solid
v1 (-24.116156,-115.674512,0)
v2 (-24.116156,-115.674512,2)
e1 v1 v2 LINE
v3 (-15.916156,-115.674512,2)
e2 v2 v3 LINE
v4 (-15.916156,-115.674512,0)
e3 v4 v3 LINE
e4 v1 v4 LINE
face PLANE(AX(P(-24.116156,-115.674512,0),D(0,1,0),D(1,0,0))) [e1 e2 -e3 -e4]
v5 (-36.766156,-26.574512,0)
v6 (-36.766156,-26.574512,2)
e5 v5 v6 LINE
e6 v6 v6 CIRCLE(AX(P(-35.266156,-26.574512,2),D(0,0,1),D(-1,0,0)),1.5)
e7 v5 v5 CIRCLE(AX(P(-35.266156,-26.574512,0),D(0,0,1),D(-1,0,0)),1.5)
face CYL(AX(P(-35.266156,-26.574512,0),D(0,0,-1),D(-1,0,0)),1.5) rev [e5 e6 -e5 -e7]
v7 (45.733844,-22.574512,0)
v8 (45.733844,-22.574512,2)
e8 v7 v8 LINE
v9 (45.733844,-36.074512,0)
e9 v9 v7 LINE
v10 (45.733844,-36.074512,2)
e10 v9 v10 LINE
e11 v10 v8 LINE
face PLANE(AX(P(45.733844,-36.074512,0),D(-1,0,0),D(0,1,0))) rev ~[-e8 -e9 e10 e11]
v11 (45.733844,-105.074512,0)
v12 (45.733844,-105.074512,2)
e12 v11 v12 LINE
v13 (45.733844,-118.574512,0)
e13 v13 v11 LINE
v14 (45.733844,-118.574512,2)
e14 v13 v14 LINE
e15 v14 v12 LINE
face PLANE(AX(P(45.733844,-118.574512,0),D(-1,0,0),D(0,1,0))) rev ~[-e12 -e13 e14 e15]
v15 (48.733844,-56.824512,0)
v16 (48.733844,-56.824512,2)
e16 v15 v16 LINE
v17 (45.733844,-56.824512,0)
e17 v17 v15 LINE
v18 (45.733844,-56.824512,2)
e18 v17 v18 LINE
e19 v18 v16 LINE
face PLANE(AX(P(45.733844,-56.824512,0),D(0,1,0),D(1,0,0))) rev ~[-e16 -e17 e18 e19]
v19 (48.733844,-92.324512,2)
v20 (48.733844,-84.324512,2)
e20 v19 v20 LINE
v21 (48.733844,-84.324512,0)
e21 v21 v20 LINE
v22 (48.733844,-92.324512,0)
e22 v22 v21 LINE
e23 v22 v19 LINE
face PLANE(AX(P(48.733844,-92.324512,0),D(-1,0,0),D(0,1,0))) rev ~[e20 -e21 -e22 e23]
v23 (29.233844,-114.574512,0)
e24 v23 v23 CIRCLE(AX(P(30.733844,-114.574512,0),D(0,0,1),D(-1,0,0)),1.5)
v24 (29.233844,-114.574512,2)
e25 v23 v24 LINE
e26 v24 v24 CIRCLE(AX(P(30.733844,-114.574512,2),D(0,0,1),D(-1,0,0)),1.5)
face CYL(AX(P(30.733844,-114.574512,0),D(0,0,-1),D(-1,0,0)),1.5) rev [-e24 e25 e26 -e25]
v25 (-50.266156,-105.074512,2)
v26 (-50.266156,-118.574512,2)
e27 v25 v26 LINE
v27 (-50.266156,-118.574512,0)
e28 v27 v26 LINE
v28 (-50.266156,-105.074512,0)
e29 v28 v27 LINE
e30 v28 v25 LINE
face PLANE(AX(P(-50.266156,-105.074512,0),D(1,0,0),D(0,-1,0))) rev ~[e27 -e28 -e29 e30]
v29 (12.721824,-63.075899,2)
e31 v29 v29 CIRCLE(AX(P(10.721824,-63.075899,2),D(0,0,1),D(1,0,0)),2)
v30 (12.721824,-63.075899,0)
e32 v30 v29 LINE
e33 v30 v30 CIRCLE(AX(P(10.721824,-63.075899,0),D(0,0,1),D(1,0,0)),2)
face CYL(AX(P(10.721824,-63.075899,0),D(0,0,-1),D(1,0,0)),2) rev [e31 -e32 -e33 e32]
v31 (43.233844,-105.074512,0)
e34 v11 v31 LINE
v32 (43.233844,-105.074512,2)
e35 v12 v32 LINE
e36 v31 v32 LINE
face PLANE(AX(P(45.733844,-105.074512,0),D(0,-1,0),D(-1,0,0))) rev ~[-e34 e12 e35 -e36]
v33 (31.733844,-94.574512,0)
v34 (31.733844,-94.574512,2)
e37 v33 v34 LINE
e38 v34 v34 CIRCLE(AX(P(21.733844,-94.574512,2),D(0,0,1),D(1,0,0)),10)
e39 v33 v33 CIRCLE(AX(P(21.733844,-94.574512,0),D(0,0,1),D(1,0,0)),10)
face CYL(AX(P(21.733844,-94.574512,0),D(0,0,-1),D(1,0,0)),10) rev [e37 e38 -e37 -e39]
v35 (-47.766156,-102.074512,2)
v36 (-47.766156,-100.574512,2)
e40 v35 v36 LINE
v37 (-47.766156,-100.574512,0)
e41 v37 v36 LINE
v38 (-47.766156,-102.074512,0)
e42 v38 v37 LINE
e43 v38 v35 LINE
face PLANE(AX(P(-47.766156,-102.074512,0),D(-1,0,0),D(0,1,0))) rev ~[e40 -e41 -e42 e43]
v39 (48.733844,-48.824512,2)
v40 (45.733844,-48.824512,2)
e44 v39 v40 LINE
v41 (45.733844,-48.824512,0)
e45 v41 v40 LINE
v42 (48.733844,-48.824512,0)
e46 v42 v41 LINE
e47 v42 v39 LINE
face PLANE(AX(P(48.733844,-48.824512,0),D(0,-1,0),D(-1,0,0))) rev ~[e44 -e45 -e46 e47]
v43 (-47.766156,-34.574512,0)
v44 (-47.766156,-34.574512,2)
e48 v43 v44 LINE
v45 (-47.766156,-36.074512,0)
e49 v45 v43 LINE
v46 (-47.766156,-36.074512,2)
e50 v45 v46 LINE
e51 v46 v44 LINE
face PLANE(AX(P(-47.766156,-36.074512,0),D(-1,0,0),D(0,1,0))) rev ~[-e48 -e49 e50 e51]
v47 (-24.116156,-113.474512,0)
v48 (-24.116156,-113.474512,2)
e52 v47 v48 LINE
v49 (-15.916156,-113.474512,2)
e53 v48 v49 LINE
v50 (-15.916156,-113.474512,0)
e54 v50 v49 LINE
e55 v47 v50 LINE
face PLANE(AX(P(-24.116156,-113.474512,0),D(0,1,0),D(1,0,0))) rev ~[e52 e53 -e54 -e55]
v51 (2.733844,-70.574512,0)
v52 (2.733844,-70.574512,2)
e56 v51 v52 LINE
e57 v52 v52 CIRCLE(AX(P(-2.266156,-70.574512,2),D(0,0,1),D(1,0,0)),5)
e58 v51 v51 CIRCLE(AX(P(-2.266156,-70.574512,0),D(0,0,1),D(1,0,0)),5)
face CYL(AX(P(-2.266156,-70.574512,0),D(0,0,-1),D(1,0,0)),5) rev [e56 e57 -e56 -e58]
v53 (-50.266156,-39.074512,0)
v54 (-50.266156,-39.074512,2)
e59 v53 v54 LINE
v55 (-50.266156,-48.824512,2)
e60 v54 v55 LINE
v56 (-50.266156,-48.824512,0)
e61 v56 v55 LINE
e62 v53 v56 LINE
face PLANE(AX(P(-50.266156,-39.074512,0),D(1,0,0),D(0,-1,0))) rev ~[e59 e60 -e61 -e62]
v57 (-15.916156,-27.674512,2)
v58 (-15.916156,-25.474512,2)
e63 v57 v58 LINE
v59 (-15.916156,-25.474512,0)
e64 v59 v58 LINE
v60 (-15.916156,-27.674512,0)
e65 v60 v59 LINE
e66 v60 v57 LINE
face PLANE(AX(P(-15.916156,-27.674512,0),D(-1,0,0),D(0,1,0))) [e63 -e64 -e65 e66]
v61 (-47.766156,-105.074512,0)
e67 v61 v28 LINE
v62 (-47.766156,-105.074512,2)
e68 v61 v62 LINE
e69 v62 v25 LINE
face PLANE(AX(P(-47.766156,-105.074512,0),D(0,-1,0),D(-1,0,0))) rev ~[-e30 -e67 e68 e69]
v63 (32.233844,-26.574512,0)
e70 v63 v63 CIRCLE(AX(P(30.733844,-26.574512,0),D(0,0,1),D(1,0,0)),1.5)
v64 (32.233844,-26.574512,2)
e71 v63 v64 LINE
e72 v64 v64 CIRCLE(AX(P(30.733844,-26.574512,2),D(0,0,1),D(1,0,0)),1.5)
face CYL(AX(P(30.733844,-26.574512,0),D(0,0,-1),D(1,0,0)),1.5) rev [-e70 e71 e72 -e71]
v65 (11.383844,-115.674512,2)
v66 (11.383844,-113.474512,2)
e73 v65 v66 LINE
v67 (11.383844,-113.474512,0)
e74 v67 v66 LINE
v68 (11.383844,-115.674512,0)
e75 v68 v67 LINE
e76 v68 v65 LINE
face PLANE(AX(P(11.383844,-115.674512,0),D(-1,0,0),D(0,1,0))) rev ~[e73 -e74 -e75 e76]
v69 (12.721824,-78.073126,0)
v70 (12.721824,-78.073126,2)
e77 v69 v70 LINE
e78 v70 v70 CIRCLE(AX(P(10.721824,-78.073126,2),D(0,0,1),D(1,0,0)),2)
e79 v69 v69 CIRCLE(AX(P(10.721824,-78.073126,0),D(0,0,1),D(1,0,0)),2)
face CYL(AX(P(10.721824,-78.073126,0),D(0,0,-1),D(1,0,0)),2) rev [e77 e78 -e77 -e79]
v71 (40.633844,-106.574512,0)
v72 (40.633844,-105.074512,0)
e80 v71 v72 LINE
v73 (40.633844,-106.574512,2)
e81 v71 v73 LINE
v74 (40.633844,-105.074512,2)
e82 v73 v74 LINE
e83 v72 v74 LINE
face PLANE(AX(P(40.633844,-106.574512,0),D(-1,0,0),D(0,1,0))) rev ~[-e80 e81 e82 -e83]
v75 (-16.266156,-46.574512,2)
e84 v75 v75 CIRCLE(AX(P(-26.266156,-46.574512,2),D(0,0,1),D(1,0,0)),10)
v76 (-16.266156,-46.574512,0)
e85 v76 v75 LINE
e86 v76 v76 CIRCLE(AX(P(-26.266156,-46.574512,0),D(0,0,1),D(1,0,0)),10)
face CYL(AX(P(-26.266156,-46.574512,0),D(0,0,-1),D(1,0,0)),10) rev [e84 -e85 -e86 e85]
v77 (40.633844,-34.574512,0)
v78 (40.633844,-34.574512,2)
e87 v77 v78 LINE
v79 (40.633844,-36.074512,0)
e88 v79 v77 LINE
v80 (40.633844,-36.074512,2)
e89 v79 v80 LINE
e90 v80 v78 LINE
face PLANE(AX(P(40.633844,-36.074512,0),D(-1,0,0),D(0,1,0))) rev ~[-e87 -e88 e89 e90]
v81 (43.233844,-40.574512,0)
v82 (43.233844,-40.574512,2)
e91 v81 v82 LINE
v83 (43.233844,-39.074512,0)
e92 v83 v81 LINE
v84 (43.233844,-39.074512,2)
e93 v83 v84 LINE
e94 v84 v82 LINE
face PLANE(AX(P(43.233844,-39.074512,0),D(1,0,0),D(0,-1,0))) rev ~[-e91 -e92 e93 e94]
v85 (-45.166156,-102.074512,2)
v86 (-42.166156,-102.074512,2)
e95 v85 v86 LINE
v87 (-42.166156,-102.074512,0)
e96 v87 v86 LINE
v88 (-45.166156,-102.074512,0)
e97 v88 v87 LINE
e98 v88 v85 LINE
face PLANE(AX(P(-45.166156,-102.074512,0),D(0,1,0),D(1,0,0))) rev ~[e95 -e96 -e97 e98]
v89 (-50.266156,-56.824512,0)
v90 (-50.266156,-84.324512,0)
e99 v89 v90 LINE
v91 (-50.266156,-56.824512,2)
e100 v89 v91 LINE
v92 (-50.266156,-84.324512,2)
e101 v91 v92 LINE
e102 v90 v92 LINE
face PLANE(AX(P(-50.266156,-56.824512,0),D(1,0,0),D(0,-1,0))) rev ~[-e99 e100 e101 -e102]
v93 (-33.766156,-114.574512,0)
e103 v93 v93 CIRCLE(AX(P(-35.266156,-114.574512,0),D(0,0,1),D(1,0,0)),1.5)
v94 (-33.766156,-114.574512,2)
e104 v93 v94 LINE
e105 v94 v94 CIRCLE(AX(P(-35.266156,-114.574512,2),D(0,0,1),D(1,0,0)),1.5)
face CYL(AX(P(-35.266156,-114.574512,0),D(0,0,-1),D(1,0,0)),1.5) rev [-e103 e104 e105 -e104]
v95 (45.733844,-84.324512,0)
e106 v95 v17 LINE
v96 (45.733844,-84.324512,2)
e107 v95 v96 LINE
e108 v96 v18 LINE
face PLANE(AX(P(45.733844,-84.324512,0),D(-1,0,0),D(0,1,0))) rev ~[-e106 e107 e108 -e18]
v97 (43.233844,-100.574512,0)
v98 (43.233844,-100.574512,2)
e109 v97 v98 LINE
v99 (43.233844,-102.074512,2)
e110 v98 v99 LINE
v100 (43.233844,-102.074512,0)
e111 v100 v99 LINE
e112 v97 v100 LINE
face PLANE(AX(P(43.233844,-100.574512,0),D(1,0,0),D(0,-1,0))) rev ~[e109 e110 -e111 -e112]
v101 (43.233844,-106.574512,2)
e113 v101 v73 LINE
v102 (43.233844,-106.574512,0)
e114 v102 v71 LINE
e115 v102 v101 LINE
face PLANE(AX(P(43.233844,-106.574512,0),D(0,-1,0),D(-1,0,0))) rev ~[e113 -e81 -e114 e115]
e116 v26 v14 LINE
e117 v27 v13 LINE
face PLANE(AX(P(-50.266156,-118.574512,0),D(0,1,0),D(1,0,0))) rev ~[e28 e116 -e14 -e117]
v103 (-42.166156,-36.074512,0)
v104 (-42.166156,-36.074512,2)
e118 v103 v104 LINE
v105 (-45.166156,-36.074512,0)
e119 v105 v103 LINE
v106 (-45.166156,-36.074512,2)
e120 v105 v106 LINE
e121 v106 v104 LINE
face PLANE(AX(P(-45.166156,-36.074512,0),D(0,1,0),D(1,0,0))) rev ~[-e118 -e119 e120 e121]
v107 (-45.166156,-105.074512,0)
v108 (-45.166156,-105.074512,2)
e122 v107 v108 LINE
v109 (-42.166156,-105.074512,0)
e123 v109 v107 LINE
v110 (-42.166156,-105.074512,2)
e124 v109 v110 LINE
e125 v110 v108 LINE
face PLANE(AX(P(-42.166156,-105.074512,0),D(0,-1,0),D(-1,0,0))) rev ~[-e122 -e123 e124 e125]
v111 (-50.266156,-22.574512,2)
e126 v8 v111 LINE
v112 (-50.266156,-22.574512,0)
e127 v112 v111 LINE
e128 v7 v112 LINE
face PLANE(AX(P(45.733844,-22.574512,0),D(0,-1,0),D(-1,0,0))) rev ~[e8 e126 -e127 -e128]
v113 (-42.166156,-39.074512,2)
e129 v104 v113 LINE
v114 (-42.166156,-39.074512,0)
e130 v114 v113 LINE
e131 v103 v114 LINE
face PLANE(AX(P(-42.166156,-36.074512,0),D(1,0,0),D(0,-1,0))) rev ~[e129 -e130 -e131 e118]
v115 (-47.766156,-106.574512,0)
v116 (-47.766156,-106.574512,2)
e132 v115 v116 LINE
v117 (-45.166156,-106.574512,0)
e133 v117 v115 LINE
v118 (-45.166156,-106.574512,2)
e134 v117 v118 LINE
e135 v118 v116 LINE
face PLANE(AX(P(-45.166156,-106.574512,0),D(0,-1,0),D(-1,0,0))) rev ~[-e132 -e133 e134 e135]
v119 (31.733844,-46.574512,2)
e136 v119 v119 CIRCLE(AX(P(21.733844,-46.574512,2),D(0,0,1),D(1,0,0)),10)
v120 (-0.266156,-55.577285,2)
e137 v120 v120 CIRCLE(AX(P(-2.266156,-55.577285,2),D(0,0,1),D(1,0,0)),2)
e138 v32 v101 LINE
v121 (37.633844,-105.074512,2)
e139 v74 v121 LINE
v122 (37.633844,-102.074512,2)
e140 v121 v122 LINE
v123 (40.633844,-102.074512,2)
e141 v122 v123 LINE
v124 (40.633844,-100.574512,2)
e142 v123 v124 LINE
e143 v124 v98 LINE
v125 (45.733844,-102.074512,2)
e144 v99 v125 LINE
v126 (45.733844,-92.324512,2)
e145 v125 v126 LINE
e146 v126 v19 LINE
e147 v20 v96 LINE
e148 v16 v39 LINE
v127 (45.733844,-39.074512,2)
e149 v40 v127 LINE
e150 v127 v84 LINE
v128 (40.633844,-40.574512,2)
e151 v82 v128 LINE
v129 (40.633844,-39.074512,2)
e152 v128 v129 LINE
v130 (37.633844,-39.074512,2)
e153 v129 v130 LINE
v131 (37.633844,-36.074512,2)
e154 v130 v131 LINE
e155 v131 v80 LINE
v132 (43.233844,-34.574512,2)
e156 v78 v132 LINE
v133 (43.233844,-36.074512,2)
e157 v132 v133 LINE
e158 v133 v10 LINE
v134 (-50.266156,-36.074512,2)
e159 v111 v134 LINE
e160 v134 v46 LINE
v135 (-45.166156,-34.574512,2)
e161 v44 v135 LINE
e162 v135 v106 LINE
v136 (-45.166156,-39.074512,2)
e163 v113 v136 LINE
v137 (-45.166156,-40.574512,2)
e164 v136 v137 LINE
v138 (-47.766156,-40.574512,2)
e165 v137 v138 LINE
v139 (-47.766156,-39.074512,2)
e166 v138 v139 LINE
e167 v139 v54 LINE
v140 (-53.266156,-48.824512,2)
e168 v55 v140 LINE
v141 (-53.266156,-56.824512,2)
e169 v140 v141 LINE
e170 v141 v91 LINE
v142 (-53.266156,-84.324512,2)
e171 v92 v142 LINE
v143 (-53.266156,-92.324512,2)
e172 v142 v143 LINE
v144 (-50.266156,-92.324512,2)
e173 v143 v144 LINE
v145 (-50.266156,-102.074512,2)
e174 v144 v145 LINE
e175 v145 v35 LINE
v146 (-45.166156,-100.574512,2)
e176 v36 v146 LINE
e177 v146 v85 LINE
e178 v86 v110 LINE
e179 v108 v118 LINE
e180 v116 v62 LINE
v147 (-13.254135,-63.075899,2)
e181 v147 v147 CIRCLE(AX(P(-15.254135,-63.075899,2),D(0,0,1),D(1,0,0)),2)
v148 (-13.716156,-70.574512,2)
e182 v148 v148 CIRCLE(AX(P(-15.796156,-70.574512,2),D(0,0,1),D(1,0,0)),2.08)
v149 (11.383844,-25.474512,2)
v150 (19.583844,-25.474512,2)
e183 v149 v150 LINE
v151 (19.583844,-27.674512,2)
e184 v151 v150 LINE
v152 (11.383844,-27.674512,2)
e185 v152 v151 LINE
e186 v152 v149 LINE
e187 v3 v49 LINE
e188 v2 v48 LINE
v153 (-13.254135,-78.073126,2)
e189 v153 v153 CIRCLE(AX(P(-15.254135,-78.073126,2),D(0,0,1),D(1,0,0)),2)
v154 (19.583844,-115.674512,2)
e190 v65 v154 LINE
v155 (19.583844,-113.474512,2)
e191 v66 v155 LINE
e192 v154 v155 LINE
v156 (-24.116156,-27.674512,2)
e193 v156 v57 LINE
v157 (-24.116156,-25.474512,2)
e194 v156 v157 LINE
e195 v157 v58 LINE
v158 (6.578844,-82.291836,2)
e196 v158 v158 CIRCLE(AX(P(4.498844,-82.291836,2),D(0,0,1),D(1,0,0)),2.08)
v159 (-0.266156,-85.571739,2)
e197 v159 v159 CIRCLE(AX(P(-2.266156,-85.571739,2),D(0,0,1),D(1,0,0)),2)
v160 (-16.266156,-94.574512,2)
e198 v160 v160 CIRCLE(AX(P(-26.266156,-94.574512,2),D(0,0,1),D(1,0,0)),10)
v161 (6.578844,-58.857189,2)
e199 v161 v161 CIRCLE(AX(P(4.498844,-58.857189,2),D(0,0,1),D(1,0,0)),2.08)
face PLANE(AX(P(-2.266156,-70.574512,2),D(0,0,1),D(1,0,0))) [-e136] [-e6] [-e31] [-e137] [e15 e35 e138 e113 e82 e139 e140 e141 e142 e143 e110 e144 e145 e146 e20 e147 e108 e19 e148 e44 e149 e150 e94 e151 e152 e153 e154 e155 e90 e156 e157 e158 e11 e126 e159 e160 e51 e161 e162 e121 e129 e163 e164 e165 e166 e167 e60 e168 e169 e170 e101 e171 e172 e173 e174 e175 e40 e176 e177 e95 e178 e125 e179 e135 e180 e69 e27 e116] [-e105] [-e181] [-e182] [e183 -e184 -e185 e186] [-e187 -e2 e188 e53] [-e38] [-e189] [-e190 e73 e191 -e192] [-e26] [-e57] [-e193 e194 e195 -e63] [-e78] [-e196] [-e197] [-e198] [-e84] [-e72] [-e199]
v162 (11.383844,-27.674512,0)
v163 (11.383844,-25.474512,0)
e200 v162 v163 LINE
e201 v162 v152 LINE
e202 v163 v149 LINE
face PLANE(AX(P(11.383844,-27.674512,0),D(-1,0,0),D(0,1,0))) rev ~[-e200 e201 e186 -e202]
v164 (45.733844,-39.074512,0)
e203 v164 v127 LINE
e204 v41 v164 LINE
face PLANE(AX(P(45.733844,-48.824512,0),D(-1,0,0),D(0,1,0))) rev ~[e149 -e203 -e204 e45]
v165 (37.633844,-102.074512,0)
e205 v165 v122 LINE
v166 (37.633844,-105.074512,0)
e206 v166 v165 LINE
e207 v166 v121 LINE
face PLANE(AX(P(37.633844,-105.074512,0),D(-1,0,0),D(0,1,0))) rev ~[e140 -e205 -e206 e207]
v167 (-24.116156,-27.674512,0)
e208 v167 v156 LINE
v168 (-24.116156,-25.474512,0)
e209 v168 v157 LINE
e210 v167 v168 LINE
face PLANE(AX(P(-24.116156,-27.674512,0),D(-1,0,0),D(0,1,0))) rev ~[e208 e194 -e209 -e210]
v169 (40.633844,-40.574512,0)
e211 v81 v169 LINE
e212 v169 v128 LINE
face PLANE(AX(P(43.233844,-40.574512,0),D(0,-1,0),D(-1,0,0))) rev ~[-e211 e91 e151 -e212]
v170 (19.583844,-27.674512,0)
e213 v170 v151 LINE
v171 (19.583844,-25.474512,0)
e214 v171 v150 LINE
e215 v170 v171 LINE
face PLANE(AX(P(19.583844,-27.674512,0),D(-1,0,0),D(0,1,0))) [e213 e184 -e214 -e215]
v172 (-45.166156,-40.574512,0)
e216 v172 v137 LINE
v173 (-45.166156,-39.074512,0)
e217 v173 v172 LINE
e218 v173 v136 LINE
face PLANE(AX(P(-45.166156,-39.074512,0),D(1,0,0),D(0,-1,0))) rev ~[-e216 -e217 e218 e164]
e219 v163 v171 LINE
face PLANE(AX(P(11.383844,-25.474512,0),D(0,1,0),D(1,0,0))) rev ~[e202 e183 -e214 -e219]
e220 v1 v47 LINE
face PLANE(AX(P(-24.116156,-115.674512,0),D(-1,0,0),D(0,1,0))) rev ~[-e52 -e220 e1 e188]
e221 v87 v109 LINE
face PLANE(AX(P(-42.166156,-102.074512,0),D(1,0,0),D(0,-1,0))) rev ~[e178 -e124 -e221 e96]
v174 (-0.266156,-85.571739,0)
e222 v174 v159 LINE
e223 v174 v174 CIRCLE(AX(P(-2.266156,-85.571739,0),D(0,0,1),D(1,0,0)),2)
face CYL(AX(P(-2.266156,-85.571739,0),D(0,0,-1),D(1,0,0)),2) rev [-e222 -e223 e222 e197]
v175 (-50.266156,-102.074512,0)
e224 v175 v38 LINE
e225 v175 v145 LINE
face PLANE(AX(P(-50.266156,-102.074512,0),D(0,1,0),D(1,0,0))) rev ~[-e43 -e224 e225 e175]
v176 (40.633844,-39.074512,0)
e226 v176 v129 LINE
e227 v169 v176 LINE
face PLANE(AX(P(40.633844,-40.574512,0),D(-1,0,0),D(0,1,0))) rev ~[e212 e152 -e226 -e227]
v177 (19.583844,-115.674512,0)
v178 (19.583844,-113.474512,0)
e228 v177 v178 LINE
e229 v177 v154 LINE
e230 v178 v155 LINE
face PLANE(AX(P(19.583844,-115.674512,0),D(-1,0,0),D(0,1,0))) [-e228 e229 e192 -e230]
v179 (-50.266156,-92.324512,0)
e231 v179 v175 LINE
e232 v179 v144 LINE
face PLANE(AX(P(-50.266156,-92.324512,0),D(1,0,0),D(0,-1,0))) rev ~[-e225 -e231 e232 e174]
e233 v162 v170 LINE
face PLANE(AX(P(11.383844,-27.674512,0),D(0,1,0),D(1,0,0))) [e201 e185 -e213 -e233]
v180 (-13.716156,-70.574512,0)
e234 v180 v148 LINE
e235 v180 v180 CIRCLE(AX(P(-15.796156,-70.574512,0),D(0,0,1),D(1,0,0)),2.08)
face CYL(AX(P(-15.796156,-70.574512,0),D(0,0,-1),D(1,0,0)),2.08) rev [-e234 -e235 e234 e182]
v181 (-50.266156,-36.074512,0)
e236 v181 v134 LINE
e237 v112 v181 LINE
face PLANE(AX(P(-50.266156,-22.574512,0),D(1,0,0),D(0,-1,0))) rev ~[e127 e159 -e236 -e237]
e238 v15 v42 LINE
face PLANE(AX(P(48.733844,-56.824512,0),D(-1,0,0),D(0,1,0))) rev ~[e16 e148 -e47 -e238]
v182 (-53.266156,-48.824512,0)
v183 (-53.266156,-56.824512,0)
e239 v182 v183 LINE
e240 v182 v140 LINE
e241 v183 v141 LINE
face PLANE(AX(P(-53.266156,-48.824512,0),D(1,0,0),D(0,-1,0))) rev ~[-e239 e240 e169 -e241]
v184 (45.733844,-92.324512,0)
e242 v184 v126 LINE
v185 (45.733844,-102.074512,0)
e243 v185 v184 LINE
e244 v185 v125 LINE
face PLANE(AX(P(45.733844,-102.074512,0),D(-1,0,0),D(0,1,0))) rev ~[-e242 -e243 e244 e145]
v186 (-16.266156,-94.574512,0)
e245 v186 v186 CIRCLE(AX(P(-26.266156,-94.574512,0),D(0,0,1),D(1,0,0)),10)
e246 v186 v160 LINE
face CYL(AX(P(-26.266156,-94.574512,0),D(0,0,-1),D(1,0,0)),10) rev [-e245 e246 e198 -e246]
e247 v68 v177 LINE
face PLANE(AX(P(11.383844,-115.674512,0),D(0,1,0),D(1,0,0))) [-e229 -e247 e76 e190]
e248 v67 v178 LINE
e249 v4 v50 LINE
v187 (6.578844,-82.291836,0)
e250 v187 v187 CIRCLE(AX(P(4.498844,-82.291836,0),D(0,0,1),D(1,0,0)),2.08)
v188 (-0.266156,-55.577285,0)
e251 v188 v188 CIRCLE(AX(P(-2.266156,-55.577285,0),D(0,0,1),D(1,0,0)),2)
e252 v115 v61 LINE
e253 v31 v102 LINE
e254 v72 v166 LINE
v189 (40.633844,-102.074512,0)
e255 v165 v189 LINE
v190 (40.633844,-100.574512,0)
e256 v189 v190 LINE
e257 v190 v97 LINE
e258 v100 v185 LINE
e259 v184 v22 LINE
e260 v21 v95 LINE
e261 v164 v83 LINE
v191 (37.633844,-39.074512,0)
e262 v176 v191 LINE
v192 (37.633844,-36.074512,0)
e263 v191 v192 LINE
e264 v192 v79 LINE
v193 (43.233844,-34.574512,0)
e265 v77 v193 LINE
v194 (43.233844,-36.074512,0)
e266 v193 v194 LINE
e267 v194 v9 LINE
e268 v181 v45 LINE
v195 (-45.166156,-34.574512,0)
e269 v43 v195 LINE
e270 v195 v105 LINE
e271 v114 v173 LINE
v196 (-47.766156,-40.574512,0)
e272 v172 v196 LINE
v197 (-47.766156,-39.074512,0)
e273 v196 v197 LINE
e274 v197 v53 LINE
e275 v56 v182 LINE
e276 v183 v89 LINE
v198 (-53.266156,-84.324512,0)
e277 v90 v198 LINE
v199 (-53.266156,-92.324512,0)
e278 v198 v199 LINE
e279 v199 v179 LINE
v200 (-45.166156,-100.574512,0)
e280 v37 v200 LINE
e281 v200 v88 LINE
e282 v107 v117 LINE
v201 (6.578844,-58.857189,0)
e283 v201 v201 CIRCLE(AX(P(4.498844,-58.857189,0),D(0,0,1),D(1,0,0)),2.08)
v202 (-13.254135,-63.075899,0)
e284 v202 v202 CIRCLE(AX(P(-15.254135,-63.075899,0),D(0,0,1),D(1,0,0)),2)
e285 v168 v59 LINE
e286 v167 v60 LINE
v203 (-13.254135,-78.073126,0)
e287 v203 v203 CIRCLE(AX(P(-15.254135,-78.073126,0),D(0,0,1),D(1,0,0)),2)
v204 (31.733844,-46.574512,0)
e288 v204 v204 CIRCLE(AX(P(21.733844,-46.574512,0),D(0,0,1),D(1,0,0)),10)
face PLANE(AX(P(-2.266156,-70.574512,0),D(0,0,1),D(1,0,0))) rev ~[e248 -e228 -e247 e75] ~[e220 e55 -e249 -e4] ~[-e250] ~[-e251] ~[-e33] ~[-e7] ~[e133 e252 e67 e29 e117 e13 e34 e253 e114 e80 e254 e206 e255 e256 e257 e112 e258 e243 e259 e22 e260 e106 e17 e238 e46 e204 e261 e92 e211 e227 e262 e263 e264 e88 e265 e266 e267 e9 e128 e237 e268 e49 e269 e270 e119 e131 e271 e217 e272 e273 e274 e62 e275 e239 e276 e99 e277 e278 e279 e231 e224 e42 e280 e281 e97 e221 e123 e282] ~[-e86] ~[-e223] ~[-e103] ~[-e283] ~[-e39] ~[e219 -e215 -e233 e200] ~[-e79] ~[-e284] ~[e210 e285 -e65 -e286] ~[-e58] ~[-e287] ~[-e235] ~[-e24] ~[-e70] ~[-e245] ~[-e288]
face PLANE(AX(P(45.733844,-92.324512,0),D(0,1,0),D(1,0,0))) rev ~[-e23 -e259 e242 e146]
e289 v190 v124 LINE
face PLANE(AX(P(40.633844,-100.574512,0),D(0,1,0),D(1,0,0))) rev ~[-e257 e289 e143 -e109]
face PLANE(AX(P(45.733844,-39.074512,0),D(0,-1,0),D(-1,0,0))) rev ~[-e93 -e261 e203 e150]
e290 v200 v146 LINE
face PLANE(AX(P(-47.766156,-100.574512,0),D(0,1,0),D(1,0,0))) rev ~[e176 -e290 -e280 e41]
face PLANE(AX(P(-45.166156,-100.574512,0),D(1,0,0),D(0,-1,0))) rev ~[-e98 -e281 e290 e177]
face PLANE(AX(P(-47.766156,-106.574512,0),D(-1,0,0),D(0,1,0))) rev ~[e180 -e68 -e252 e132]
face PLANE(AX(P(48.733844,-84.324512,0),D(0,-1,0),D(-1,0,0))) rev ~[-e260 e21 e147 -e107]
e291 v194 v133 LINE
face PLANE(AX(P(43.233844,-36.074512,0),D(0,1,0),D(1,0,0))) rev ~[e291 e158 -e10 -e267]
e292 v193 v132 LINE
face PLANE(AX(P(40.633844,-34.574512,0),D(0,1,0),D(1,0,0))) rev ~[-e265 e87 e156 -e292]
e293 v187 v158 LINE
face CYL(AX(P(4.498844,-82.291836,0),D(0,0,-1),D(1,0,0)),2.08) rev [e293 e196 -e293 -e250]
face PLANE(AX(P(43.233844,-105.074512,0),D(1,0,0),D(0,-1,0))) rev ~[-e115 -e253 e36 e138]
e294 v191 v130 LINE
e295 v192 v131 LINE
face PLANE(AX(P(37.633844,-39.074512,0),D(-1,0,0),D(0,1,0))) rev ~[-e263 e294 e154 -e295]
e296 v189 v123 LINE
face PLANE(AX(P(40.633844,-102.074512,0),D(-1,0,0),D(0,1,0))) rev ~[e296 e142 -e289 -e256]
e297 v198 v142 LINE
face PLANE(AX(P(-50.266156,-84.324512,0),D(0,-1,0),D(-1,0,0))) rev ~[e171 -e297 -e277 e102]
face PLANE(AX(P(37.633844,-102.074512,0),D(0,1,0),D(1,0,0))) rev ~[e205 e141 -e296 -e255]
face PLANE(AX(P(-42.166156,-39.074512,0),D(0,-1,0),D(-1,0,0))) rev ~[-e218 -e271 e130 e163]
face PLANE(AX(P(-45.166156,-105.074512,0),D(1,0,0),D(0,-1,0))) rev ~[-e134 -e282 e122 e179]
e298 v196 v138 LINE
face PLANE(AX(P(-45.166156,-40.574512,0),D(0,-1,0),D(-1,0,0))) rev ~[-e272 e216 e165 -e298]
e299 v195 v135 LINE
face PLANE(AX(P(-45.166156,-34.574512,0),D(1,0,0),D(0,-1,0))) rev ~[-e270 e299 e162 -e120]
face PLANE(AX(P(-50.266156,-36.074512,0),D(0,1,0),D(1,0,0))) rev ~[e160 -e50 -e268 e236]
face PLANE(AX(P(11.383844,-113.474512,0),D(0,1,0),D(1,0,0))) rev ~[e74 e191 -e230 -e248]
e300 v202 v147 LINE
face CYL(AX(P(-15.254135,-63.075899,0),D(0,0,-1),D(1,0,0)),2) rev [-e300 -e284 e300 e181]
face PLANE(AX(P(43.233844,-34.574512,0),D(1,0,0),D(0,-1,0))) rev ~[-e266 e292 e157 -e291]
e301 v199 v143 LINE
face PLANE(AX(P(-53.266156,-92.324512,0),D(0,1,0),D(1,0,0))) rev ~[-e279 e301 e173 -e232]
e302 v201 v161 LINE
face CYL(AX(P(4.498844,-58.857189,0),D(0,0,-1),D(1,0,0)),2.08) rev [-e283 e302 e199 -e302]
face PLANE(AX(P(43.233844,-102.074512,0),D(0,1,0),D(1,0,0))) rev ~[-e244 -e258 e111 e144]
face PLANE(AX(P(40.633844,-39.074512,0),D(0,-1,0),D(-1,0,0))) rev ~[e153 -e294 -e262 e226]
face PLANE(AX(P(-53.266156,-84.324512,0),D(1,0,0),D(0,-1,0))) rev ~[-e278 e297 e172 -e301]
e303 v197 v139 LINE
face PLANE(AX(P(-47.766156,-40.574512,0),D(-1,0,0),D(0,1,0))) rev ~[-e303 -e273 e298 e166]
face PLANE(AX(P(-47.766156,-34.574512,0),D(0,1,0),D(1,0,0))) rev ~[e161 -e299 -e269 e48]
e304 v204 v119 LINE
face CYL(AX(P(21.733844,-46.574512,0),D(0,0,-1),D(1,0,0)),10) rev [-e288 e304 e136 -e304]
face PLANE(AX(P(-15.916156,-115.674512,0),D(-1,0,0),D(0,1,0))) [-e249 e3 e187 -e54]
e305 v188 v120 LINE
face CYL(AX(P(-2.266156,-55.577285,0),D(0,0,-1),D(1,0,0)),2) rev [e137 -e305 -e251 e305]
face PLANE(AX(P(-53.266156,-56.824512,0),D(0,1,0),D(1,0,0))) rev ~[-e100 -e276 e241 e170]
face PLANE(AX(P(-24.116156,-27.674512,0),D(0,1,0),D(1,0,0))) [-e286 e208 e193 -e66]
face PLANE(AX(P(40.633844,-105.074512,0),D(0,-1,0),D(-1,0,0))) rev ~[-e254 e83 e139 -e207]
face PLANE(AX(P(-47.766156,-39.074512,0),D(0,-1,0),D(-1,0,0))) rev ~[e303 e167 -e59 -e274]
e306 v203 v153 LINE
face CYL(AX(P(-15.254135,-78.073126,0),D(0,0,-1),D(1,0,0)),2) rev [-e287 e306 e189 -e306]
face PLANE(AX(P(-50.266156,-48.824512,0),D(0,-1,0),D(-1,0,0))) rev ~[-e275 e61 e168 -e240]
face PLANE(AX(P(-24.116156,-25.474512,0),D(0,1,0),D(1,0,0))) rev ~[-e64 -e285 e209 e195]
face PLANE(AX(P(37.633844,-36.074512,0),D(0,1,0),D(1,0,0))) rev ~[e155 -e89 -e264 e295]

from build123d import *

# Parameters (mm, degrees)
SKETCH_1_R      = 1.5
SKETCH_1_R_2    = 2
SKETCH_1_R_3    = 2.08
SKETCH_1_R_4    = 5
SKETCH_1_R_5    = 10
SKETCH_1_W      = 8.2
SKETCH_1_H      = 2.2
EXTRUDE_1_DEPTH = 2


with BuildPart() as part:
    # 草图1 → 凸台-拉伸1 (new body)
    with BuildSketch(Plane.XY):
        Polygon((-50.266155614, -92.324512395), (-50.266155614, -102.074512395), (-47.766155614, -102.074512395), (-47.766155614, -100.574512395), (-45.166155614, -100.574512395), (-45.166155614, -102.074512395), (-42.166155614, -102.074512395), (-42.166155614, -105.074512395), (-45.166155614, -105.074512395), (-45.166155614, -106.574512395), (-47.766155614, -106.574512395), (-47.766155614, -105.074512395), (-50.266155614, -105.074512395), (-50.266155614, -106.074512395), (-50.266155614, -118.574512395), (-2.266155614, -118.574512395), (45.733844386, -118.574512395), (45.733844386, -106.074512395), (45.733844386, -105.074512395), (43.233844386, -105.074512395), (43.233844386, -106.574512395), (40.633844386, -106.574512395), (40.633844386, -105.074512395), (37.633844386, -105.074512395), (37.633844386, -102.074512395), (40.633844386, -102.074512395), (40.633844386, -100.574512395), (43.233844386, -100.574512395), (43.233844386, -102.074512395), (45.733844386, -102.074512395), (45.733844386, -92.324512395), (48.733844386, -92.324512395), (48.733844386, -84.324512395), (45.733844386, -84.324512395), (45.733844386, -56.824512395), (48.733844386, -56.824512395), (48.733844386, -48.824512395), (45.733844386, -48.824512395), (45.733844386, -39.074512395), (43.233844386, -39.074512395), (43.233844386, -40.574512395), (40.633844386, -40.574512395), (40.633844386, -39.074512395), (37.633844386, -39.074512395), (37.633844386, -36.074512395), (40.633844386, -36.074512395), (40.633844386, -34.574512395), (43.233844386, -34.574512395), (43.233844386, -36.074512395), (45.733844386, -36.074512395), (45.733844386, -23.574512395), (45.733844386, -22.574512395), (-2.266155614, -22.574512395), (-50.266155614, -22.574512395), (-50.266155614, -23.574512395), (-50.266155614, -36.074512395), (-47.766155614, -36.074512395), (-47.766155614, -34.574512395), (-45.166155614, -34.574512395), (-45.166155614, -36.074512395), (-42.166155614, -36.074512395), (-42.166155614, -39.074512395), (-45.166155614, -39.074512395), (-45.166155614, -40.574512395), (-47.766155614, -40.574512395), (-47.766155614, -39.074512395), (-50.266155614, -39.074512395), (-50.266155614, -48.824512395), (-53.266155614, -48.824512395), (-53.266155614, -56.824512395), (-50.266155614, -56.824512395), (-50.266155614, -84.324512395), (-53.266155614, -84.324512395), (-53.266155614, -92.324512395), align=None)
        with Locations((-35.266155614, -114.574512396)):
            Circle(SKETCH_1_R, mode=Mode.SUBTRACT)
        with Locations(Location((30.733844386, -114.574512396, 0), (0, 0, 180))):
            Circle(SKETCH_1_R, mode=Mode.SUBTRACT)
        with Locations((30.733844386, -26.574512395)):
            Circle(SKETCH_1_R, mode=Mode.SUBTRACT)
        with Locations(Location((-35.266155614, -26.574512395, 0), (0, 0, 180))):
            Circle(SKETCH_1_R, mode=Mode.SUBTRACT)
        with Locations((-2.266155614, -85.571739483)):
            Circle(SKETCH_1_R_2, mode=Mode.SUBTRACT)
        with Locations((-15.254135258, -78.073125939)):
            Circle(SKETCH_1_R_2, mode=Mode.SUBTRACT)
        with Locations((-15.254135258, -63.075898852)):
            Circle(SKETCH_1_R_2, mode=Mode.SUBTRACT)
        with Locations((-2.266155614, -55.577285308)):
            Circle(SKETCH_1_R_2, mode=Mode.SUBTRACT)
        with Locations((10.721824031, -63.075898852)):
            Circle(SKETCH_1_R_2, mode=Mode.SUBTRACT)
        with Locations((10.721824031, -78.073125939)):
            Circle(SKETCH_1_R_2, mode=Mode.SUBTRACT)
        with Locations((-15.796155614, -70.574512395)):
            Circle(SKETCH_1_R_3, mode=Mode.SUBTRACT)
        with Locations((4.498844386, -58.857188682)):
            Circle(SKETCH_1_R_3, mode=Mode.SUBTRACT)
        with Locations((4.498844386, -82.291836109)):
            Circle(SKETCH_1_R_3, mode=Mode.SUBTRACT)
        with Locations((-2.266155614, -70.574512395)):
            Circle(SKETCH_1_R_4, mode=Mode.SUBTRACT)
        with Locations((-26.266155614, -46.574512395)):
            Circle(SKETCH_1_R_5, mode=Mode.SUBTRACT)
        with Locations((21.733844386, -46.574512395)):
            Circle(SKETCH_1_R_5, mode=Mode.SUBTRACT)
        with Locations((21.733844386, -94.574512395)):
            Circle(SKETCH_1_R_5, mode=Mode.SUBTRACT)
        with Locations((-26.266155614, -94.574512395)):
            Circle(SKETCH_1_R_5, mode=Mode.SUBTRACT)
        with Locations((-20.016155614, -114.574512396)):
            Rectangle(SKETCH_1_W, SKETCH_1_H, mode=Mode.SUBTRACT)
        with Locations((15.483844386, -114.574512396)):
            Rectangle(SKETCH_1_W, SKETCH_1_H, mode=Mode.SUBTRACT)
        with Locations((15.483844386, -26.574512395)):
            Rectangle(SKETCH_1_W, SKETCH_1_H, mode=Mode.SUBTRACT)
        with Locations((-20.016155614, -26.574512395)):
            Rectangle(SKETCH_1_W, SKETCH_1_H, mode=Mode.SUBTRACT)
    extrude(amount=EXTRUDE_1_DEPTH)


solid = part.part
